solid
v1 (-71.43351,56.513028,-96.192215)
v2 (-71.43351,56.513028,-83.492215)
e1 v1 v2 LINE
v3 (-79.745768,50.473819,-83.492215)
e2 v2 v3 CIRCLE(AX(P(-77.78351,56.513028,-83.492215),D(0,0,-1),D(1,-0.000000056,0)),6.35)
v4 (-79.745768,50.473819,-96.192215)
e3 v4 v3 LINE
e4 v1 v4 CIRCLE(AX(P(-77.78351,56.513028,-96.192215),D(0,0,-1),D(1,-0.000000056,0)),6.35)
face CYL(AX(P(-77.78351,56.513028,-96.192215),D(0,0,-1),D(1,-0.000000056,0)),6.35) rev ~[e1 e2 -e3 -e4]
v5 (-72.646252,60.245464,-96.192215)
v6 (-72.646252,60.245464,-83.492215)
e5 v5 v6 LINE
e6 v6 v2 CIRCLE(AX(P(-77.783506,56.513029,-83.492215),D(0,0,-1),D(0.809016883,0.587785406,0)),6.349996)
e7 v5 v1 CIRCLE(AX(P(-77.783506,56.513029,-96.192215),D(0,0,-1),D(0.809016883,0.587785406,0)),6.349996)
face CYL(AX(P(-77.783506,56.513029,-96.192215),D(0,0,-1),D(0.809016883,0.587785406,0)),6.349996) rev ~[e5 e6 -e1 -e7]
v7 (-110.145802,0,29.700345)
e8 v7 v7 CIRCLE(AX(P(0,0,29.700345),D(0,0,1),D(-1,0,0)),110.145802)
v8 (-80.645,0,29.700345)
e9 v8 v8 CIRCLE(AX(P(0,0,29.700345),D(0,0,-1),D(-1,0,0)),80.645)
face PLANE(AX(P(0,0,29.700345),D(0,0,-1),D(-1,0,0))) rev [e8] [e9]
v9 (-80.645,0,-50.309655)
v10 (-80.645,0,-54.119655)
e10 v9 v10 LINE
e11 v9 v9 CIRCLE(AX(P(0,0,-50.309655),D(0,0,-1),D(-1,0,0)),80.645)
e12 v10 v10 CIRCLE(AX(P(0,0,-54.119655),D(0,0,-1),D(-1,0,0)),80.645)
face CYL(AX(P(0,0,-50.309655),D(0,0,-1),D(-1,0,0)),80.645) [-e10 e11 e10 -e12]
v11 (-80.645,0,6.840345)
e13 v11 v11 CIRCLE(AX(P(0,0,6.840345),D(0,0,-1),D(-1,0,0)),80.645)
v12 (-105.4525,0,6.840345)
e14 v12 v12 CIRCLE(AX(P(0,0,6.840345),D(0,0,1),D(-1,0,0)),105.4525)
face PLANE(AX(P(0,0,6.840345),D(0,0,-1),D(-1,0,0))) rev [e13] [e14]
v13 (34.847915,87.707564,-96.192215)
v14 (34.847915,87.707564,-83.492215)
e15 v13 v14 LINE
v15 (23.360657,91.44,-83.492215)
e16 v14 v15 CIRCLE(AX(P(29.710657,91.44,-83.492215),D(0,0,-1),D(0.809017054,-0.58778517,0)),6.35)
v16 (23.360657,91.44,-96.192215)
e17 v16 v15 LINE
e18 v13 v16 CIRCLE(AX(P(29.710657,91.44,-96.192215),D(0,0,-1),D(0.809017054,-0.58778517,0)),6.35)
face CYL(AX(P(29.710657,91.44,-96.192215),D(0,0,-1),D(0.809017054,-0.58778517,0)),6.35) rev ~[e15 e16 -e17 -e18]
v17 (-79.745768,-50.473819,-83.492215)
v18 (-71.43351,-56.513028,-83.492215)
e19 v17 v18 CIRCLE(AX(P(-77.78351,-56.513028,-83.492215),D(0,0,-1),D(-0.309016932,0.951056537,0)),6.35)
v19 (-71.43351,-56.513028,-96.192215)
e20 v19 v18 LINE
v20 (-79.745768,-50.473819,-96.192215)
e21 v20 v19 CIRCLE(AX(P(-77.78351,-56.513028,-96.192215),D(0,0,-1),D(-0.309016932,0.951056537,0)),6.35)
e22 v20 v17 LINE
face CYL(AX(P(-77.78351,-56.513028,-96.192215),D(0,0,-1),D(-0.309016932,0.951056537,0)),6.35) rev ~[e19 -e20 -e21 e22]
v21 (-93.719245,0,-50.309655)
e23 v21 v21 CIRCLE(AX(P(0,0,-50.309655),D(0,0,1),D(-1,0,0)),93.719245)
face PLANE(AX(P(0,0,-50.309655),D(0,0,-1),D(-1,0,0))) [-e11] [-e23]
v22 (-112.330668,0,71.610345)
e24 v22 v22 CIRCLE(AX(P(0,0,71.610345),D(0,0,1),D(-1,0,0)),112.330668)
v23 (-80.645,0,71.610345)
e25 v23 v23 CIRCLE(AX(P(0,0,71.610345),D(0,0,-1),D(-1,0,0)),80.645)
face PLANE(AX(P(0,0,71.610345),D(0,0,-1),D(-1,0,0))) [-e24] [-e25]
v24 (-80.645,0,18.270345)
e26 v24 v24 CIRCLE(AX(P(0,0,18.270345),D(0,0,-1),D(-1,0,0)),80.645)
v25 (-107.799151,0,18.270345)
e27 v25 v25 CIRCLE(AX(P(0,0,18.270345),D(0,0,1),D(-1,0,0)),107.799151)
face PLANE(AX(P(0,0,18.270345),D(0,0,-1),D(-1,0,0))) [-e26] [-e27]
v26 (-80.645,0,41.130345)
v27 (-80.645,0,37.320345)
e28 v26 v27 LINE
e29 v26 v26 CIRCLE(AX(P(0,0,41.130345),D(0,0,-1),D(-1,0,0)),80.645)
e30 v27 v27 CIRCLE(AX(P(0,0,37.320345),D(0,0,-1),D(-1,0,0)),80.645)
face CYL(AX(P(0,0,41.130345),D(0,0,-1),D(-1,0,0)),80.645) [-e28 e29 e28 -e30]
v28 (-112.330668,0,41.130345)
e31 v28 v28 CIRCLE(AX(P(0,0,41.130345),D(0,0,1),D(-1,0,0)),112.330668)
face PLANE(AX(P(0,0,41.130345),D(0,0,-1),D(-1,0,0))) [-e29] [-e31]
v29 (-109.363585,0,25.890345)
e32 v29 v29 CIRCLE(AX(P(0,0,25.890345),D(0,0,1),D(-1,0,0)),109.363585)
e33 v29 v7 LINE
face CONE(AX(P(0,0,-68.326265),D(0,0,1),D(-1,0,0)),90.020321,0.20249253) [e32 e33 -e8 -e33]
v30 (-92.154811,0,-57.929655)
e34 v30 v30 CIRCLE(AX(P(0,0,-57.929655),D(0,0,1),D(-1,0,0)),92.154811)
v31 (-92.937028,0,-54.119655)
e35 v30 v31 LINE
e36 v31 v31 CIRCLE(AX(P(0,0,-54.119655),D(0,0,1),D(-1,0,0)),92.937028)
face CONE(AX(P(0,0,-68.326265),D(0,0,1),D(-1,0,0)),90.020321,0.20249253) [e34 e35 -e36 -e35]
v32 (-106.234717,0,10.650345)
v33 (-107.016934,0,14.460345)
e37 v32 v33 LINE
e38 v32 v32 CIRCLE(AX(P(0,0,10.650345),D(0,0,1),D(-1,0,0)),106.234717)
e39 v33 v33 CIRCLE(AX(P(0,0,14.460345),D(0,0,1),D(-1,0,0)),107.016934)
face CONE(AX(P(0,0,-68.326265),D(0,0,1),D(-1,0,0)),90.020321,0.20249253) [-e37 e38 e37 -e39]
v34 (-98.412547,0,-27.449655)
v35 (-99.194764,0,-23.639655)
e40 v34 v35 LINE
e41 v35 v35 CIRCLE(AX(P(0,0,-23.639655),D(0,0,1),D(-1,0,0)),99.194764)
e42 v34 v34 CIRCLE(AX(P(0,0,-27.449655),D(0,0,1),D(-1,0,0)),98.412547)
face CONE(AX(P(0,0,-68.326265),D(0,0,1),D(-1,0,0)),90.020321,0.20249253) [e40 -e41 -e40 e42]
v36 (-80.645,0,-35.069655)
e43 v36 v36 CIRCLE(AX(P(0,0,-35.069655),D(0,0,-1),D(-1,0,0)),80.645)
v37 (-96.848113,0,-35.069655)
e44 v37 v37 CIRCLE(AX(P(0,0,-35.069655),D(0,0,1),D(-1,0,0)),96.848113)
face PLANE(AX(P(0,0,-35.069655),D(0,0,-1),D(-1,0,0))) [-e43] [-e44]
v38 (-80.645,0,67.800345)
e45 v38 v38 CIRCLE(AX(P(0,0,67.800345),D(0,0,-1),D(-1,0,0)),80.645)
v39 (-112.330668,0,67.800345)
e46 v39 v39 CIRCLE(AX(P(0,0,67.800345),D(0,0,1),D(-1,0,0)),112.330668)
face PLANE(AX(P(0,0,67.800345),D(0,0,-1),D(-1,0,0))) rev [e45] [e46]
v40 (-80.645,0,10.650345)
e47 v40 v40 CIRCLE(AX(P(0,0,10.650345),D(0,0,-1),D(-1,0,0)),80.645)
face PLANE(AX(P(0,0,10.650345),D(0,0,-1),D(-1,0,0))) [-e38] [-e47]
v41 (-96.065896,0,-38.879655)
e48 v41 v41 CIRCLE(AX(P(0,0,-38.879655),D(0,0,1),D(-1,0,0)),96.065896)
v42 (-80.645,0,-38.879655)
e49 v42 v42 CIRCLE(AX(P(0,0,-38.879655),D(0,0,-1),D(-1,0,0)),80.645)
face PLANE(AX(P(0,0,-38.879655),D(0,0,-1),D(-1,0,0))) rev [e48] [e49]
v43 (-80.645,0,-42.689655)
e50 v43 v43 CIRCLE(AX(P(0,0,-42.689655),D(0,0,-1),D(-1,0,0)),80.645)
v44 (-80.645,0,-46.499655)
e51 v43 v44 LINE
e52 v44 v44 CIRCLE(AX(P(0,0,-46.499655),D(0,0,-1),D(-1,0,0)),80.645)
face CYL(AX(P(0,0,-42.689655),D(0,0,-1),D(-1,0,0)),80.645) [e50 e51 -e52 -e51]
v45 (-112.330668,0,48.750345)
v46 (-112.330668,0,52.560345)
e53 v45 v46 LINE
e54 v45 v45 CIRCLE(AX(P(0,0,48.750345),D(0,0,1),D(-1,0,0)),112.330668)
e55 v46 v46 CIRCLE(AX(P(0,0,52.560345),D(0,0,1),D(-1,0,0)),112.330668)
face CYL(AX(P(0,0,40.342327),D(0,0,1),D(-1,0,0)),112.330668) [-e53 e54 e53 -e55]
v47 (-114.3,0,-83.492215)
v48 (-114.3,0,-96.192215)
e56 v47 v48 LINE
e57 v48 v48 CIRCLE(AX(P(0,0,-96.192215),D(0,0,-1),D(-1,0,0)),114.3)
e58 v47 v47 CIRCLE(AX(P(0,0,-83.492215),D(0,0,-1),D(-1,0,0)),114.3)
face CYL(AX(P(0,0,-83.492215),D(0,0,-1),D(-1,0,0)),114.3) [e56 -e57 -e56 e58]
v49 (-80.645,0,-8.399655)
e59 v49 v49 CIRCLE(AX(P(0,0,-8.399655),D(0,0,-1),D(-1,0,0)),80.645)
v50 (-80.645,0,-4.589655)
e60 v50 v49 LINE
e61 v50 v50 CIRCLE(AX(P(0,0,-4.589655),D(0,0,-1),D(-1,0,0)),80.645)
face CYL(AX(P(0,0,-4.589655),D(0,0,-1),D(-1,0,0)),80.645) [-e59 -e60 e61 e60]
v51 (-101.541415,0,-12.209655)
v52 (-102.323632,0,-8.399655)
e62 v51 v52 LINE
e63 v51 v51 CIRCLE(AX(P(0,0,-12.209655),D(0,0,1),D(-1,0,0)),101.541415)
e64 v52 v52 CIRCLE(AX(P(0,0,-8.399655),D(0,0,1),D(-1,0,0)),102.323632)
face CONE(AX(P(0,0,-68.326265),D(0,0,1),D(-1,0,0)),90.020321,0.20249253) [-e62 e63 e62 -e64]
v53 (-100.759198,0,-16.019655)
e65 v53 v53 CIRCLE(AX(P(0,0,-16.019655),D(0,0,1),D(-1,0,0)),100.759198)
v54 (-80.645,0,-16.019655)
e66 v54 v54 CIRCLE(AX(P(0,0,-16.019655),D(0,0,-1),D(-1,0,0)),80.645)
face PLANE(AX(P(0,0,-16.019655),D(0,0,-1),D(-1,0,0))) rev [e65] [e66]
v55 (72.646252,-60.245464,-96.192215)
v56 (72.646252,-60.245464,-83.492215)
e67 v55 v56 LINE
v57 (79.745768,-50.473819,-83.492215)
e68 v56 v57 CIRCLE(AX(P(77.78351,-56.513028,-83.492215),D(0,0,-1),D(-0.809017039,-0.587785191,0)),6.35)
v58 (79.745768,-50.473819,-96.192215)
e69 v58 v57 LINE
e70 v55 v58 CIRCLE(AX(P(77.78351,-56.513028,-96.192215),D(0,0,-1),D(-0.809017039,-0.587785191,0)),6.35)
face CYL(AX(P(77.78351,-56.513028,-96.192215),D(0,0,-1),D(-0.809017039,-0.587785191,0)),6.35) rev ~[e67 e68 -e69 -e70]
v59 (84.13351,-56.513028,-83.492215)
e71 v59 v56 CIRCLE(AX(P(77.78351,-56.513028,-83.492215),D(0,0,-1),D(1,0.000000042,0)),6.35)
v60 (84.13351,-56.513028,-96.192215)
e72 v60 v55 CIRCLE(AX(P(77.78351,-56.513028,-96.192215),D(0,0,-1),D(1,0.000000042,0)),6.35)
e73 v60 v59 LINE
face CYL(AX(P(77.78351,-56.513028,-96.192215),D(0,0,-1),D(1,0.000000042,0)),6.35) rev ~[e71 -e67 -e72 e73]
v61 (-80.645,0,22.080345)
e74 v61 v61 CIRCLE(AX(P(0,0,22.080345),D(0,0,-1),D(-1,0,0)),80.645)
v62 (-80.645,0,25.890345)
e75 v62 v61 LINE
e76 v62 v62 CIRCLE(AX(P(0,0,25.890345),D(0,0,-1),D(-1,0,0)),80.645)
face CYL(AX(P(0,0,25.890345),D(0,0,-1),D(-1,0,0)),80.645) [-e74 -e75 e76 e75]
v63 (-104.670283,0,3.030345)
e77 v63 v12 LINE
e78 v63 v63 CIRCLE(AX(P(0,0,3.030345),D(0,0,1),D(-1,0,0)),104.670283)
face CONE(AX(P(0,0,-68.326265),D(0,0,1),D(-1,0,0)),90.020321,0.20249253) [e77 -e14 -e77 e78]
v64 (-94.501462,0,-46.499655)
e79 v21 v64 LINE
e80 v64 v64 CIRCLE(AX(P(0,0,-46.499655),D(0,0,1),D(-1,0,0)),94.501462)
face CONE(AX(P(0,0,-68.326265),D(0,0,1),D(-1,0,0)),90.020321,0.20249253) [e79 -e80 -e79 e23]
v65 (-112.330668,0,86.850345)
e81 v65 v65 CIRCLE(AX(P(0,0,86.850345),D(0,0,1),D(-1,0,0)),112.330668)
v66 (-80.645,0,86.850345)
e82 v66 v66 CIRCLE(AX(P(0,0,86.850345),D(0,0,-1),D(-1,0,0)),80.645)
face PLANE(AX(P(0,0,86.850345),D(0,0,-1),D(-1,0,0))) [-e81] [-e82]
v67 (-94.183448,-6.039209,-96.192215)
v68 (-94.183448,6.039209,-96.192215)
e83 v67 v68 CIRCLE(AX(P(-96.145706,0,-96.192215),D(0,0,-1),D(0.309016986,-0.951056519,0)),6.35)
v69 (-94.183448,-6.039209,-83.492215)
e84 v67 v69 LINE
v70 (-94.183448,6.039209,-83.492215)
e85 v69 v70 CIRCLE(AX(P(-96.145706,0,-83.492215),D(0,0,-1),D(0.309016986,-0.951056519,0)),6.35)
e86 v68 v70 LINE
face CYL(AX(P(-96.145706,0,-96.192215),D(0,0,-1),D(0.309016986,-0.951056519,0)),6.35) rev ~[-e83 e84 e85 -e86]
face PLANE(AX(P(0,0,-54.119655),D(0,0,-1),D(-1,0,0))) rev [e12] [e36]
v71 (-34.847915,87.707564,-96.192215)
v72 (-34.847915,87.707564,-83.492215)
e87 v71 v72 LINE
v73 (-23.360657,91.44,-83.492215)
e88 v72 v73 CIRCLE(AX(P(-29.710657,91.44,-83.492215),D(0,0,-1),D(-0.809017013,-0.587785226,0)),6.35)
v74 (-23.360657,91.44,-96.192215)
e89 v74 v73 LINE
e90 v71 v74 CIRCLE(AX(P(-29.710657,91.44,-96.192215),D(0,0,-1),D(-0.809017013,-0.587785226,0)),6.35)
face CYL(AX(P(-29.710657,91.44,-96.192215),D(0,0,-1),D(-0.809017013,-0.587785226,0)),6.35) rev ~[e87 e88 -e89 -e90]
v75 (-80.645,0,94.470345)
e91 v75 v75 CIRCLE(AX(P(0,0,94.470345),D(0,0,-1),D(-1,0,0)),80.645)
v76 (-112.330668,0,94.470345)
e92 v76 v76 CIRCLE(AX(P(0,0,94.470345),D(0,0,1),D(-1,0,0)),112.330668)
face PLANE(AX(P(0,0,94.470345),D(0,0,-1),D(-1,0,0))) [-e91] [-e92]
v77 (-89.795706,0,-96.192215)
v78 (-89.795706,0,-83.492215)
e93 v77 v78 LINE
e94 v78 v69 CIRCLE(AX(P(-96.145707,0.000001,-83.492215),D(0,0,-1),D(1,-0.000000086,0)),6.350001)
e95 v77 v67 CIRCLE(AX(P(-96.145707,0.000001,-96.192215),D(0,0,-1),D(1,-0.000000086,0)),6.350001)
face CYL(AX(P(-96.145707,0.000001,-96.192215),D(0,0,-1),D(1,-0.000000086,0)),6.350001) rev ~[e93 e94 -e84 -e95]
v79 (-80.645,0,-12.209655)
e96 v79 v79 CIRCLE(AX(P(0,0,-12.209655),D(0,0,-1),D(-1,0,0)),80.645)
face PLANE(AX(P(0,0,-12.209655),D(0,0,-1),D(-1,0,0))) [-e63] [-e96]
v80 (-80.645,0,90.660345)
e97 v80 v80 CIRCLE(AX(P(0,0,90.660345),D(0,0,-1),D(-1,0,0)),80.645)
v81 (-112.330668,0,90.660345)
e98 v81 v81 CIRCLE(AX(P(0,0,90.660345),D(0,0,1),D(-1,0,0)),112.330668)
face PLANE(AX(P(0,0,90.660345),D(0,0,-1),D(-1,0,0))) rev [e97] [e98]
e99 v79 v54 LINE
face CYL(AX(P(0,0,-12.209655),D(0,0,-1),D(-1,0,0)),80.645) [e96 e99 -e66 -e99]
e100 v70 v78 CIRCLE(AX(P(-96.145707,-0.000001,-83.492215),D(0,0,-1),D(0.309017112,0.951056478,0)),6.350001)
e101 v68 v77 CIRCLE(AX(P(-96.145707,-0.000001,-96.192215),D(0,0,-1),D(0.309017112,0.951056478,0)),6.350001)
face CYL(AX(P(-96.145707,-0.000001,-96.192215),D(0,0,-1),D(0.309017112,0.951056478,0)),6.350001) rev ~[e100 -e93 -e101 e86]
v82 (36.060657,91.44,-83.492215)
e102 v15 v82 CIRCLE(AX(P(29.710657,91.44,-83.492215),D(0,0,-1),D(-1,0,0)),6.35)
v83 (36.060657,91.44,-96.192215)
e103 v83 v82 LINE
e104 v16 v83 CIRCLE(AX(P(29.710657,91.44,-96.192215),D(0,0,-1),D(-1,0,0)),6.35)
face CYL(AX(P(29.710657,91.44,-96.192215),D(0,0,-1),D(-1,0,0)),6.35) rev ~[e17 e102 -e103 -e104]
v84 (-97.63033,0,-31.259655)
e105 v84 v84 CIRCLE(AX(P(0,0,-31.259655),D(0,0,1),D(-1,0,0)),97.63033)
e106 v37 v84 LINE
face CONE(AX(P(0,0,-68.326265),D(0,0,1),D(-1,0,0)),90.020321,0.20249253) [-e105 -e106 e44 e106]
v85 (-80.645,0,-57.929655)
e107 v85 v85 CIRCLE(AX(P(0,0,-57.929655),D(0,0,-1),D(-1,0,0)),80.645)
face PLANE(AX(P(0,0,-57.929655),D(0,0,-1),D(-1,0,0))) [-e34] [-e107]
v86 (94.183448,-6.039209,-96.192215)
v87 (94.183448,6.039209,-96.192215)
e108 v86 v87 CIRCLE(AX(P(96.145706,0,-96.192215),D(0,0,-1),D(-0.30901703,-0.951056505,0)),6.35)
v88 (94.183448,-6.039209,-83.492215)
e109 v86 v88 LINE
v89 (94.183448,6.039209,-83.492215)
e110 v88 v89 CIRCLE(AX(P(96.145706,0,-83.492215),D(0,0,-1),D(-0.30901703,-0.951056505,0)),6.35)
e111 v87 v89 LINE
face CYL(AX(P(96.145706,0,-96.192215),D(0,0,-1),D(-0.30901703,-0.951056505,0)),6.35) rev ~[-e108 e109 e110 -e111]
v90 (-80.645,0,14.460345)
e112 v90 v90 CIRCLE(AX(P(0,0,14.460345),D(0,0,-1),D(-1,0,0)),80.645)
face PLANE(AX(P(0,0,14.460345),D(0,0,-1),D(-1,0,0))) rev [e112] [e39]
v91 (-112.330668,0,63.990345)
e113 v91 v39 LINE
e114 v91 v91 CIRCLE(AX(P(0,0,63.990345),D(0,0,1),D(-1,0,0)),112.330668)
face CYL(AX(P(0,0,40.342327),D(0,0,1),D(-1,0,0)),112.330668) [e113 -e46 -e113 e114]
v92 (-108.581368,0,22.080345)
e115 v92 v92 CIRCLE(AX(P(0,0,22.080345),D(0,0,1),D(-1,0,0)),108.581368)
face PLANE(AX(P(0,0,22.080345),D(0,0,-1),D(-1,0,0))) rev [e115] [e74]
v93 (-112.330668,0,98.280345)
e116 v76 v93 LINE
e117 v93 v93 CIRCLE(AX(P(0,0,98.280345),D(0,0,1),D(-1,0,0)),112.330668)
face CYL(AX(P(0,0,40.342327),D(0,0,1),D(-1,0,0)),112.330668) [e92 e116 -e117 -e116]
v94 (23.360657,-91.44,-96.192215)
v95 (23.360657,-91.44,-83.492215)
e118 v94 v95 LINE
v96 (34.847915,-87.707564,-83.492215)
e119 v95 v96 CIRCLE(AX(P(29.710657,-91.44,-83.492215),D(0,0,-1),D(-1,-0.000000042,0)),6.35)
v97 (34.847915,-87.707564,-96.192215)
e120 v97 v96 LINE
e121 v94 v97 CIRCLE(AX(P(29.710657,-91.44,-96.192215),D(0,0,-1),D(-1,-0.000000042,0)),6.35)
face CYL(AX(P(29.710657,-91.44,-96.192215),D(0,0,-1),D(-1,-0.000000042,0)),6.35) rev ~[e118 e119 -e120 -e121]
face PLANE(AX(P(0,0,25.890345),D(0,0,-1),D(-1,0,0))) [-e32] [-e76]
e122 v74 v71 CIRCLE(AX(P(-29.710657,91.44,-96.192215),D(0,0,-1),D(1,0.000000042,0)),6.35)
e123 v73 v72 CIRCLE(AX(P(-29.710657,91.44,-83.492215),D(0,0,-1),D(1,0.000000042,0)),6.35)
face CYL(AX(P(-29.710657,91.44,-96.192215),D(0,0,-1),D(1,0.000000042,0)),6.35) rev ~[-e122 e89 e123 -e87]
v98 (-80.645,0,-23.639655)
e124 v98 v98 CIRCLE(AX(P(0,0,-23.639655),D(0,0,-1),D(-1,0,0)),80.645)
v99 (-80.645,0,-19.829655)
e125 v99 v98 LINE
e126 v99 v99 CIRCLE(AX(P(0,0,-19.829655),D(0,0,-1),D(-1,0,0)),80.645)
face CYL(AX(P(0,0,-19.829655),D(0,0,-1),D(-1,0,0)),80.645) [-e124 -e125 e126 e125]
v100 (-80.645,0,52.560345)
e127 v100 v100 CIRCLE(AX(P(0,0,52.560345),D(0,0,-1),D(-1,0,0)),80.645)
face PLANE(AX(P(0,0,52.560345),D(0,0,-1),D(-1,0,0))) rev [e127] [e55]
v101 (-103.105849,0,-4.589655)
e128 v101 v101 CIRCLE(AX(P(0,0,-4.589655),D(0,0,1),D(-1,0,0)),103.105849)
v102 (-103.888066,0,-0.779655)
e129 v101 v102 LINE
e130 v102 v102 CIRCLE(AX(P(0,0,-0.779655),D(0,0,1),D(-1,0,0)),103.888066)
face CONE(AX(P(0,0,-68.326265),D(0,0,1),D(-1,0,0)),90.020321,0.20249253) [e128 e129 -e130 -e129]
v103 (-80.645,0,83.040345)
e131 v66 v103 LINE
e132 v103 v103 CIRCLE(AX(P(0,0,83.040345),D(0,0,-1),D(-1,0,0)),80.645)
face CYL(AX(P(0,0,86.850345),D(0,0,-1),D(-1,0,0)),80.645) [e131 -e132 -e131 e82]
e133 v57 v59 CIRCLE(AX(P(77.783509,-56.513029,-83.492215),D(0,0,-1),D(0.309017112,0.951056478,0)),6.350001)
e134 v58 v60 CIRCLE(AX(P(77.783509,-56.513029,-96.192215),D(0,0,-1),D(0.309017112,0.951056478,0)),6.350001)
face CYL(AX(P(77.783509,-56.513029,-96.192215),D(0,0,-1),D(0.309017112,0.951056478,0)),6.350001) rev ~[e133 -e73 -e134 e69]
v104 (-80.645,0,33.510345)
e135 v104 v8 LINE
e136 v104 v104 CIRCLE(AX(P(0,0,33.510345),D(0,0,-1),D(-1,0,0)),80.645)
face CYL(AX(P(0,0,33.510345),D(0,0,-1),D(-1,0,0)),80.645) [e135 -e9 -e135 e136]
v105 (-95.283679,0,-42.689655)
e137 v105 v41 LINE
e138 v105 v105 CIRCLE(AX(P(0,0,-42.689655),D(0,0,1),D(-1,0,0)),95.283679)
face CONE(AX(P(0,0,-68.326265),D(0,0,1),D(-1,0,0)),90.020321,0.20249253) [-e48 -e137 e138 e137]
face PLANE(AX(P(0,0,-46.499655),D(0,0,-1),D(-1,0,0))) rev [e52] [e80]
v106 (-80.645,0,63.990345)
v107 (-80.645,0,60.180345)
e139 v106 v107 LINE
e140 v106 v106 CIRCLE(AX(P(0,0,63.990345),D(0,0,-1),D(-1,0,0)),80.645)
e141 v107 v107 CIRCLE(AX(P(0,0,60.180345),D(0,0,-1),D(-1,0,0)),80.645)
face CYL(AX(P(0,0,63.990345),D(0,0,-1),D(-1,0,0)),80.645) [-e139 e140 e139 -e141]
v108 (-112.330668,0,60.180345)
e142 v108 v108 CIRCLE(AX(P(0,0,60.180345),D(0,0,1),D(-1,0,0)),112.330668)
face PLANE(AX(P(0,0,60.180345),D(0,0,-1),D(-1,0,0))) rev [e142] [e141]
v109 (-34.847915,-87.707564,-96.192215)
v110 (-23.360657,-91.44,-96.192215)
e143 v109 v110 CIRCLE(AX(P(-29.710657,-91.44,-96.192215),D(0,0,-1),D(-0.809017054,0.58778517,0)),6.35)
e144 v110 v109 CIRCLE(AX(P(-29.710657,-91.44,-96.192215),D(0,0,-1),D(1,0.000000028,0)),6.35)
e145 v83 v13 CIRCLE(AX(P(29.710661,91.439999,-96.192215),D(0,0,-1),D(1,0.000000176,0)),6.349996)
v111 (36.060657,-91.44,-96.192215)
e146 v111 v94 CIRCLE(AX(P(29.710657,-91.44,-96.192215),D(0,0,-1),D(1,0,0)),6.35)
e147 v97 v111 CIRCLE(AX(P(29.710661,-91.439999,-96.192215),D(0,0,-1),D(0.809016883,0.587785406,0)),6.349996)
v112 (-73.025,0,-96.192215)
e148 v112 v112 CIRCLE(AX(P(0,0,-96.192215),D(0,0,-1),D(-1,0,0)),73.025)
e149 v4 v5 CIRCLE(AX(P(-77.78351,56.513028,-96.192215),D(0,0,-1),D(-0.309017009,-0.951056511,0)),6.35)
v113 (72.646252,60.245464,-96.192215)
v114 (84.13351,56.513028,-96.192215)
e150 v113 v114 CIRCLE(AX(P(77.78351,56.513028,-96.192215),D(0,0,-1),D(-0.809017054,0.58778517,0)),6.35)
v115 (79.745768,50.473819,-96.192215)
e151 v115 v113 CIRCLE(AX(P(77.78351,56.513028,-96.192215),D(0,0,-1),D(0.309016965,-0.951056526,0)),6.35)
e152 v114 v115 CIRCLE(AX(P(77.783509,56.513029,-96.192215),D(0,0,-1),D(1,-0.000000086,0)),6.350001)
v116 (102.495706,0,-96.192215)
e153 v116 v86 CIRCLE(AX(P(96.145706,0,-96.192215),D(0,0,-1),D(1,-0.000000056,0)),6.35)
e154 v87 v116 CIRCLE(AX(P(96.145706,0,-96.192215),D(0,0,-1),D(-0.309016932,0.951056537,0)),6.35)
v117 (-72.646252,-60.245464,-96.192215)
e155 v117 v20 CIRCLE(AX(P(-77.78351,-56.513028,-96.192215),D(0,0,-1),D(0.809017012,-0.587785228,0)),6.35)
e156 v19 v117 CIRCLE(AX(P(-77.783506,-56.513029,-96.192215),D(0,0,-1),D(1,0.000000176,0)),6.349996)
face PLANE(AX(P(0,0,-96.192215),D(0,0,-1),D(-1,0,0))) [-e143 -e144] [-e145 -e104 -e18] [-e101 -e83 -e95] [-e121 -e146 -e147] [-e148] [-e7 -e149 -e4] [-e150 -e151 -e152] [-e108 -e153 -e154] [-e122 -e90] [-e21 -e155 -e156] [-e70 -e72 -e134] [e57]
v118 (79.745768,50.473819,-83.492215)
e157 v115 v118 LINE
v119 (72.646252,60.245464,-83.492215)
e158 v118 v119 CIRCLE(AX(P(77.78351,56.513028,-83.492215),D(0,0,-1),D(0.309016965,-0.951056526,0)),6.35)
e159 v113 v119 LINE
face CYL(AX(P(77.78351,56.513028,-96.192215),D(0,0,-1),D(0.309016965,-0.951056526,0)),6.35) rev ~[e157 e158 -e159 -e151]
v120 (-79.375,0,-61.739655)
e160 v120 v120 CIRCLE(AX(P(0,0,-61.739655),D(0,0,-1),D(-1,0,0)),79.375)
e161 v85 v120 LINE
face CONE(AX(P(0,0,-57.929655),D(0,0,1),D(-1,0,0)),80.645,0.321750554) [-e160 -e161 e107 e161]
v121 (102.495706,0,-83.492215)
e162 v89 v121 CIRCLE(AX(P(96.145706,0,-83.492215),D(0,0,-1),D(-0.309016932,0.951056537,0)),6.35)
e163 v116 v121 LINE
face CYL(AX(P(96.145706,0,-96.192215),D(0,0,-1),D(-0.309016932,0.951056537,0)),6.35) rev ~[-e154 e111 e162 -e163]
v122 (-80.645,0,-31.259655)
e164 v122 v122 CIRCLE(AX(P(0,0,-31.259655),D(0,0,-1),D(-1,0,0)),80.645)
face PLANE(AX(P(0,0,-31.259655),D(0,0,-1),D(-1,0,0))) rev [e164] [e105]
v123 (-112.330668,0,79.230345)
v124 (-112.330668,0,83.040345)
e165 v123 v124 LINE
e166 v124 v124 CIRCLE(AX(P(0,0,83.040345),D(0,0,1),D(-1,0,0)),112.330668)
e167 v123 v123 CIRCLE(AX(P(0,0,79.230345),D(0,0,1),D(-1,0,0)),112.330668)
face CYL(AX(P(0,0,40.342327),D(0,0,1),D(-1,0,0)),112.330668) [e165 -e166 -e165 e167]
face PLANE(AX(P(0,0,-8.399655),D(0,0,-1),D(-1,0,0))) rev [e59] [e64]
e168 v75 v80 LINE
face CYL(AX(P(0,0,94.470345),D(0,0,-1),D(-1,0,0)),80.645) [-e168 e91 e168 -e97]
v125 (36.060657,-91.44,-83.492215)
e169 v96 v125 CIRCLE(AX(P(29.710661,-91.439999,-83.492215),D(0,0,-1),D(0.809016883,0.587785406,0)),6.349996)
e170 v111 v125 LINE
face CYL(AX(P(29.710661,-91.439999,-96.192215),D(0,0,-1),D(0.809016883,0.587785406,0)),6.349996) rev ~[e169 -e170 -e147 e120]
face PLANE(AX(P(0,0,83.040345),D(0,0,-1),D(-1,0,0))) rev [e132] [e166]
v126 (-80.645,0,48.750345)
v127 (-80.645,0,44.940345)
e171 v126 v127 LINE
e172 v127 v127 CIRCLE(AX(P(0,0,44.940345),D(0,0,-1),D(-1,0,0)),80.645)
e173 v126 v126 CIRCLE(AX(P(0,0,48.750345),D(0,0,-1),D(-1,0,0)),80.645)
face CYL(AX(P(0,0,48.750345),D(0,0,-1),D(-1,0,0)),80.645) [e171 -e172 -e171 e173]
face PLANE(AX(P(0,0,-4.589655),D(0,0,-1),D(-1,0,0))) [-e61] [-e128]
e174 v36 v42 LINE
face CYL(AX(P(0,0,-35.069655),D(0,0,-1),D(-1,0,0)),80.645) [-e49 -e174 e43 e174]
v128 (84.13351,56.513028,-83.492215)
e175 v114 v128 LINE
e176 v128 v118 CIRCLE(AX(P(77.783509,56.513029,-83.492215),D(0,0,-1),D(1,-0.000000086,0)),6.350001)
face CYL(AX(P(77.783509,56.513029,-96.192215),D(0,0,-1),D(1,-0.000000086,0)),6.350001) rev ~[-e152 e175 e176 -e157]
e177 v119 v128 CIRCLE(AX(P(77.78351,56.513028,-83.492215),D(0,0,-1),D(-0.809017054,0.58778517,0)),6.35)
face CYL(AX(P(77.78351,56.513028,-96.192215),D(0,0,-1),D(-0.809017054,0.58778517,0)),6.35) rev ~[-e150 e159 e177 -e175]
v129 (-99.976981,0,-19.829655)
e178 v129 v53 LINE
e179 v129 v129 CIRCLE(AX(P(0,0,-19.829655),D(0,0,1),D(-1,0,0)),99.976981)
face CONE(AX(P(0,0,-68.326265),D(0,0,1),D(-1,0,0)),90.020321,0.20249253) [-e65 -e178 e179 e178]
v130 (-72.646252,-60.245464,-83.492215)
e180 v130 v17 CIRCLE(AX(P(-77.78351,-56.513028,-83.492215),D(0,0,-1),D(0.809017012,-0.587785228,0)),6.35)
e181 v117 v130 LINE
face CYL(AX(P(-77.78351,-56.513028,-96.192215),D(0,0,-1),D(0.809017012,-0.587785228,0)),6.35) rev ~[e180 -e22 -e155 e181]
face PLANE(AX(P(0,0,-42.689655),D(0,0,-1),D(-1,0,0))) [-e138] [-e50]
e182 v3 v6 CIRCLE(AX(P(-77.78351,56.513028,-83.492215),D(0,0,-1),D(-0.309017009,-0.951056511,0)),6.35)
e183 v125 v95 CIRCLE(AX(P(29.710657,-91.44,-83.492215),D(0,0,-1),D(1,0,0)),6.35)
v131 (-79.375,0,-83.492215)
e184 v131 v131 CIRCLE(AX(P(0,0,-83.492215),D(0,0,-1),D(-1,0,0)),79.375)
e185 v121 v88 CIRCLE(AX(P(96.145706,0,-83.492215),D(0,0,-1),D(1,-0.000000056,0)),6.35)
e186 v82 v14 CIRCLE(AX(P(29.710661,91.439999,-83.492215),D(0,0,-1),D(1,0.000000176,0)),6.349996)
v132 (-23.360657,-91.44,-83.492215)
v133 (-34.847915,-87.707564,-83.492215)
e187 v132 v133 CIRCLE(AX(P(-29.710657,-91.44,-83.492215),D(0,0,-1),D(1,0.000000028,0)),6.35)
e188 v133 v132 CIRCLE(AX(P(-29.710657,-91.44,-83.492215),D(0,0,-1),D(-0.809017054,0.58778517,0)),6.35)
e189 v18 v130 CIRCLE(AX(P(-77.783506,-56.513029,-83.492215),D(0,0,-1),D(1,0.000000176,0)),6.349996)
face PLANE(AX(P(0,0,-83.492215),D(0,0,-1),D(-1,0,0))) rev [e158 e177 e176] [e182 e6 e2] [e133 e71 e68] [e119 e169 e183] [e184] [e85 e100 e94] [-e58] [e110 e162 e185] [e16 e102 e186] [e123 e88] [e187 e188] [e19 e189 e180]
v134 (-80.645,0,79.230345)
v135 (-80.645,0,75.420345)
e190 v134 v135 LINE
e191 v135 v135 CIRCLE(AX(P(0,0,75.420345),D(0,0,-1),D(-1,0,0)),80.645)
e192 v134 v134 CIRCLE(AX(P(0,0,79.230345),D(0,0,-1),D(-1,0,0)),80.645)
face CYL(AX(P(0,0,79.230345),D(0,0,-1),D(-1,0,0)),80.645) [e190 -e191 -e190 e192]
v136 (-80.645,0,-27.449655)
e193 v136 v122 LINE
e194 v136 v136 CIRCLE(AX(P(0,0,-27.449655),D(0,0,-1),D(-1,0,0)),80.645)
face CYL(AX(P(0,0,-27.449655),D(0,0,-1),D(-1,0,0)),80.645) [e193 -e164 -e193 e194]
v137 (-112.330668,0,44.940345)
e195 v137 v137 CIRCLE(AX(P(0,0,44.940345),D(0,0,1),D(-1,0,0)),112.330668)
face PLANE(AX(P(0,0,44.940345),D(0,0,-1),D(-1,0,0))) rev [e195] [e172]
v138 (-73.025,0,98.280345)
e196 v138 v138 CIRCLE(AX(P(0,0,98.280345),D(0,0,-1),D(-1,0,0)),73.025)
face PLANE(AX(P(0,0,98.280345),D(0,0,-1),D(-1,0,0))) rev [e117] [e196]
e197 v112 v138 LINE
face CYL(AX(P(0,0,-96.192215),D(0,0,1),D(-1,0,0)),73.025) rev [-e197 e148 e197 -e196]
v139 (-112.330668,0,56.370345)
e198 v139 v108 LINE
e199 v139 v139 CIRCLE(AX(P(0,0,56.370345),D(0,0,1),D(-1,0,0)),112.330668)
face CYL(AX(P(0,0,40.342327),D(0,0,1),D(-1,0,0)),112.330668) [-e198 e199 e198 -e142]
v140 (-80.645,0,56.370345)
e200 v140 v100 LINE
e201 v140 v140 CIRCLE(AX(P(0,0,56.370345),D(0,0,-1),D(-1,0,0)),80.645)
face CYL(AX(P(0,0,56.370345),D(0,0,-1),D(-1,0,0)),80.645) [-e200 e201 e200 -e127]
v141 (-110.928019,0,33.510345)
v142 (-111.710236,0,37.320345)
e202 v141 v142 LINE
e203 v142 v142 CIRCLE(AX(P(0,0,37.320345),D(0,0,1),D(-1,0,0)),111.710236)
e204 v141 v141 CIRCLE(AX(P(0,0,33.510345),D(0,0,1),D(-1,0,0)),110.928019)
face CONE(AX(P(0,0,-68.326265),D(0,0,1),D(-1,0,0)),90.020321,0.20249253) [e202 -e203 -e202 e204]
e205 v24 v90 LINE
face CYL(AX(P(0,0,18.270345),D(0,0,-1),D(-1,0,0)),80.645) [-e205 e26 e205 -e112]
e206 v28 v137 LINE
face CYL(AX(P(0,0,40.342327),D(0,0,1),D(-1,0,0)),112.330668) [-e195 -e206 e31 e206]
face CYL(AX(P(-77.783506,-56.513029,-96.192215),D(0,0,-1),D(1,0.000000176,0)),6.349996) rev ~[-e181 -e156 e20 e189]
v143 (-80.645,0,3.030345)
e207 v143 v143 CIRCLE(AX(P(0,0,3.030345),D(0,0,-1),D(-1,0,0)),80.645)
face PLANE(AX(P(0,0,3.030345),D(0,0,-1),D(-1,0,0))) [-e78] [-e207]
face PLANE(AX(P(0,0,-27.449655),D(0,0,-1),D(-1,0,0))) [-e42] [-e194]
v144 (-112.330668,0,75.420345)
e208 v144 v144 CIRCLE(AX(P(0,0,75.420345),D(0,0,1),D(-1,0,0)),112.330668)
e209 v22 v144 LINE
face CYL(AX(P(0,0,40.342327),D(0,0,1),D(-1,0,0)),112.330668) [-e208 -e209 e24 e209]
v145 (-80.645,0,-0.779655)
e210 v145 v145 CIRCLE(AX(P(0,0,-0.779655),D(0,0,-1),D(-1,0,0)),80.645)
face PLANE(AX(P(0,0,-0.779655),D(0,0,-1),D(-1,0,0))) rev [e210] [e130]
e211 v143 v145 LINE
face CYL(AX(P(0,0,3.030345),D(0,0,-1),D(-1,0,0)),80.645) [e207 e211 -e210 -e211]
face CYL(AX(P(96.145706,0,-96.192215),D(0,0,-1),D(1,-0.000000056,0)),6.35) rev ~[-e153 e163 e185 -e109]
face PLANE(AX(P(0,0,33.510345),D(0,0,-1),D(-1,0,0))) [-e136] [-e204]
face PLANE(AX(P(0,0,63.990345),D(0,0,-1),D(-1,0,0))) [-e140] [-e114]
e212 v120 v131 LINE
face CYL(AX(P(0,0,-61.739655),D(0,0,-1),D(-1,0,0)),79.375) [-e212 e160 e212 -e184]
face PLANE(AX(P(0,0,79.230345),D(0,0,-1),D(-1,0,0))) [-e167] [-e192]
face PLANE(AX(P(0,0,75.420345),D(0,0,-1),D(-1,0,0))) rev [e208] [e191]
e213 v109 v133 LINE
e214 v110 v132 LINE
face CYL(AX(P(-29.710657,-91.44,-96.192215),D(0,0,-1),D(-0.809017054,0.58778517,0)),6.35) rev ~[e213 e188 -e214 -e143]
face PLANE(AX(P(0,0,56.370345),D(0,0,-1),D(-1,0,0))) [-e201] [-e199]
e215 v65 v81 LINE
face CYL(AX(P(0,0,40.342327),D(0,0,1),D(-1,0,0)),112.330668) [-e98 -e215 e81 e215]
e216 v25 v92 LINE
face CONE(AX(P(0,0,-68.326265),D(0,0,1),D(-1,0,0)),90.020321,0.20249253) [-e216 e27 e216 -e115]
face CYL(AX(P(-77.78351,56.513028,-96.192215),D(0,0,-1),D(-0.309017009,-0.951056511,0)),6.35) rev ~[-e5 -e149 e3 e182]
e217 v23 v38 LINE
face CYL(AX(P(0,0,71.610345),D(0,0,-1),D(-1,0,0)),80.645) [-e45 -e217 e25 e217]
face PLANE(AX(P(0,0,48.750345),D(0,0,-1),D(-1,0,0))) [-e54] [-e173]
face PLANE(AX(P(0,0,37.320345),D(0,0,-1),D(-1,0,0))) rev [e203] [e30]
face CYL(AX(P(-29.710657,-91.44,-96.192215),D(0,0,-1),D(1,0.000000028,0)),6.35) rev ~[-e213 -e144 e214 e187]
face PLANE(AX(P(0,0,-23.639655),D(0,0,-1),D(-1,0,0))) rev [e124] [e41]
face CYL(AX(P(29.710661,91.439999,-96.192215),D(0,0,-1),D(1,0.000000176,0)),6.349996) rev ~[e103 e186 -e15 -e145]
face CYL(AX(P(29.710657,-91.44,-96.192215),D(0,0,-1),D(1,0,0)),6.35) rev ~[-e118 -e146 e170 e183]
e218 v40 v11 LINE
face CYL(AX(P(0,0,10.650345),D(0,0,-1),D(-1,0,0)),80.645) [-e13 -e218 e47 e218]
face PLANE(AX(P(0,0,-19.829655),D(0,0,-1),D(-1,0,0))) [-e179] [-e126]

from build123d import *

# Parameters (mm, degrees)
F5_DEPTH = 25.4


with BuildPart() as f1:
    # F0 (on Front) → F1 (revolve)
    with BuildSketch(Plane.XZ):
        Polygon((-73.025, -96.192215), (-73.025, 98.280345), (-113.665, 98.280345), (-113.665, 94.470345), (-80.645, 94.470345), (-80.645, 90.660345), (-113.665, 90.660345), (-113.665, 86.850345), (-80.645, 86.850345), (-80.645, 83.040345), (-113.665, 83.040345), (-113.665, 79.230345), (-80.645, 79.230345), (-80.645, 75.420345), (-113.665, 75.420345), (-113.665, 71.610345), (-80.645, 71.610345), (-80.645, 67.800345), (-113.665, 67.800345), (-113.665, 63.990345), (-80.645, 63.990345), (-80.645, 60.180345), (-113.665, 60.180345), (-113.665, 56.370345), (-80.645, 56.370345), (-80.645, 52.560345), (-113.665, 52.560345), (-113.665, 48.750345), (-80.645, 48.750345), (-80.645, 44.940345), (-113.665, 44.940345), (-113.665, 41.130345), (-80.645, 41.130345), (-80.645, 37.320345), (-113.665, 37.320345), (-113.665, 33.510345), (-80.645, 33.510345), (-80.645, 29.700345), (-113.665, 29.700345), (-113.665, 25.890345), (-80.645, 25.890345), (-80.645, 22.080345), (-113.665, 22.080345), (-113.665, 18.270345), (-80.645, 18.270345), (-80.645, 14.460345), (-113.665, 14.460345), (-113.665, 10.650345), (-80.645, 10.650345), (-80.645, 6.840345), (-113.665, 6.840345), (-113.665, 3.030345), (-80.645, 3.030345), (-80.645, -0.779655), (-113.665, -0.779655), (-113.665, -4.589655), (-80.645, -4.589655), (-80.645, -8.399655), (-113.665, -8.399655), (-113.665, -12.209655), (-80.645, -12.209655), (-80.645, -16.019655), (-113.665, -16.019655), (-113.665, -19.829655), (-80.645, -19.829655), (-80.645, -23.639655), (-113.665, -23.639655), (-113.665, -27.449655), (-80.645, -27.449655), (-80.645, -31.259655), (-113.665, -31.259655), (-113.665, -35.069655), (-80.645, -35.069655), (-80.645, -38.879655), (-113.665, -38.879655), (-113.665, -42.689655), (-80.645, -42.689655), (-80.645, -46.499655), (-113.665, -46.499655), (-113.665, -50.309655), (-80.645, -50.309655), (-80.645, -53.012215), (-80.645, -54.119655), (-113.665, -54.119655), (-113.665, -57.929655), (-80.645, -57.929655), (-79.375, -61.739655), (-79.375, -65.549655), (-79.375, -83.492215), (-89.240745, -83.492215), (-114.3, -83.492215), (-114.3, -96.192215), align=None)
    revolve(axis=Axis((0, 0, -28.813493), (0, 0, -1)))

    # F2 (on Front) → F3 (revolve, cut)
    with BuildSketch(Plane.XZ):
        Polygon((-90.254217, -75.343326), (-90.020321, -68.326265), (-112.330668, 40.342327), (-112.330668, 54.898441), (-112.330668, 99.654861), (-98.720975, 122.993582), (-167.233683, 55.174064), (-167.233683, -75.343326), align=None)
    revolve(axis=Axis((0, 0, 57.428986), (0, 0, 1)), mode=Mode.SUBTRACT)

    # F4 (on face) → F5 (cut)
    with BuildSketch(Plane(origin=(0, 0, -96.192215), x_dir=(1, 0, 0), z_dir=(0, 0, -1))):
        with BuildLine():
            Line((-34.847915, 87.707564), (-29.710657, 91.44))
            Line((-29.710657, 91.44), (-23.360657, 91.44))
            ThreePointArc((-23.360657, 91.44), (-31.672915, 97.479209), (-34.847915, 87.707564))
        make_face()
        with BuildLine():
            Line((-23.360657, 91.44), (-29.710657, 91.44))
            Line((-29.710657, 91.44), (-34.847915, 87.707564))
            ThreePointArc((-34.847915, 87.707564), (-27.748399, 85.400791), (-23.360657, 91.44))
        make_face()
        with BuildLine():
            ThreePointArc((36.060657, 91.44), (29.710657, 97.79), (23.360657, 91.44))
            Line((23.360657, 91.44), (29.710657, 91.44))
            Line((29.710657, 91.44), (34.847915, 87.707564))
            ThreePointArc((34.847915, 87.707564), (35.749866, 89.477742), (36.060657, 91.44))
        make_face()
        with BuildLine():
            Line((29.710657, 91.44), (23.360657, 91.44))
            ThreePointArc((23.360657, 91.44), (27.748399, 85.400791), (34.847915, 87.707564))
            Line((34.847915, 87.707564), (29.710657, 91.44))
        make_face()
        with BuildLine():
            ThreePointArc((84.13351, 56.513028), (79.745768, 62.552237), (72.646252, 60.245464))
            Line((72.646252, 60.245464), (77.78351, 56.513028))
            Line((77.78351, 56.513028), (79.745768, 50.473819))
            ThreePointArc((79.745768, 50.473819), (82.920768, 52.780592), (84.13351, 56.513028))
        make_face()
        with BuildLine():
            Line((77.78351, 56.513028), (72.646252, 60.245464))
            ThreePointArc((72.646252, 60.245464), (72.646252, 52.780592), (79.745768, 50.473819))
            Line((79.745768, 50.473819), (77.78351, 56.513028))
        make_face()
        with BuildLine():
            ThreePointArc((102.495706, 0), (99.878142, 5.137258), (94.183448, 6.039209))
            Line((94.183448, 6.039209), (96.145706, 0))
            Line((96.145706, 0), (94.183448, -6.039209))
            ThreePointArc((94.183448, -6.039209), (99.878142, -5.137258), (102.495706, 0))
        make_face()
        with BuildLine():
            Line((96.145706, 0), (94.183448, 6.039209))
            ThreePointArc((94.183448, 6.039209), (89.795706, 0), (94.183448, -6.039209))
            Line((94.183448, -6.039209), (96.145706, 0))
        make_face()
        with BuildLine():
            ThreePointArc((84.13351, -56.513028), (82.920768, -52.780592), (79.745768, -50.473819))
            Line((79.745768, -50.473819), (77.78351, -56.513028))
            Line((77.78351, -56.513028), (72.646252, -60.245464))
            ThreePointArc((72.646252, -60.245464), (79.745768, -62.552237), (84.13351, -56.513028))
        make_face()
        with BuildLine():
            Line((77.78351, -56.513028), (79.745768, -50.473819))
            ThreePointArc((79.745768, -50.473819), (72.646252, -52.780592), (72.646252, -60.245464))
            Line((72.646252, -60.245464), (77.78351, -56.513028))
        make_face()
        with BuildLine():
            Line((29.710657, -91.44), (34.847915, -87.707564))
            ThreePointArc((34.847915, -87.707564), (27.748399, -85.400791), (23.360657, -91.44))
            Line((23.360657, -91.44), (29.710657, -91.44))
        make_face()
        with BuildLine():
            ThreePointArc((36.060657, -91.44), (35.749866, -89.477742), (34.847915, -87.707564))
            Line((34.847915, -87.707564), (29.710657, -91.44))
            Line((29.710657, -91.44), (23.360657, -91.44))
            ThreePointArc((23.360657, -91.44), (29.710657, -97.79), (36.060657, -91.44))
        make_face()
        with BuildLine():
            Line((-29.710657, -91.44), (-34.847915, -87.707564))
            ThreePointArc((-34.847915, -87.707564), (-31.672915, -97.479209), (-23.360657, -91.44))
            Line((-23.360657, -91.44), (-29.710657, -91.44))
        make_face()
        with BuildLine():
            ThreePointArc((-23.360657, -91.44), (-27.748399, -85.400791), (-34.847915, -87.707564))
            Line((-34.847915, -87.707564), (-29.710657, -91.44))
            Line((-29.710657, -91.44), (-23.360657, -91.44))
        make_face()
        with BuildLine():
            Line((-77.78351, -56.513028), (-79.745768, -50.473819))
            ThreePointArc((-79.745768, -50.473819), (-82.920768, -60.245464), (-72.646252, -60.245464))
            Line((-72.646252, -60.245464), (-77.78351, -56.513028))
        make_face()
        with BuildLine():
            ThreePointArc((-71.43351, -56.513028), (-74.051074, -51.37577), (-79.745768, -50.473819))
            Line((-79.745768, -50.473819), (-77.78351, -56.513028))
            Line((-77.78351, -56.513028), (-72.646252, -60.245464))
            ThreePointArc((-72.646252, -60.245464), (-71.744301, -58.475286), (-71.43351, -56.513028))
        make_face()
        with BuildLine():
            Line((-96.145706, 0), (-94.183448, 6.039209))
            ThreePointArc((-94.183448, 6.039209), (-102.495706, 0), (-94.183448, -6.039209))
            Line((-94.183448, -6.039209), (-96.145706, 0))
        make_face()
        with BuildLine():
            ThreePointArc((-89.795706, 0), (-91.008448, 3.732436), (-94.183448, 6.039209))
            Line((-94.183448, 6.039209), (-96.145706, 0))
            Line((-96.145706, 0), (-94.183448, -6.039209))
            ThreePointArc((-94.183448, -6.039209), (-91.008448, -3.732436), (-89.795706, 0))
        make_face()
        with BuildLine():
            Line((-77.78351, 56.513028), (-72.646252, 60.245464))
            ThreePointArc((-72.646252, 60.245464), (-82.920768, 60.245464), (-79.745768, 50.473819))
            Line((-79.745768, 50.473819), (-77.78351, 56.513028))
        make_face()
        with BuildLine():
            ThreePointArc((-71.43351, 56.513028), (-71.744301, 58.475286), (-72.646252, 60.245464))
            Line((-72.646252, 60.245464), (-77.78351, 56.513028))
            Line((-77.78351, 56.513028), (-79.745768, 50.473819))
            ThreePointArc((-79.745768, 50.473819), (-74.051074, 51.37577), (-71.43351, 56.513028))
        make_face()
    extrude(amount=-F5_DEPTH, mode=Mode.SUBTRACT)


solid = f1.part
